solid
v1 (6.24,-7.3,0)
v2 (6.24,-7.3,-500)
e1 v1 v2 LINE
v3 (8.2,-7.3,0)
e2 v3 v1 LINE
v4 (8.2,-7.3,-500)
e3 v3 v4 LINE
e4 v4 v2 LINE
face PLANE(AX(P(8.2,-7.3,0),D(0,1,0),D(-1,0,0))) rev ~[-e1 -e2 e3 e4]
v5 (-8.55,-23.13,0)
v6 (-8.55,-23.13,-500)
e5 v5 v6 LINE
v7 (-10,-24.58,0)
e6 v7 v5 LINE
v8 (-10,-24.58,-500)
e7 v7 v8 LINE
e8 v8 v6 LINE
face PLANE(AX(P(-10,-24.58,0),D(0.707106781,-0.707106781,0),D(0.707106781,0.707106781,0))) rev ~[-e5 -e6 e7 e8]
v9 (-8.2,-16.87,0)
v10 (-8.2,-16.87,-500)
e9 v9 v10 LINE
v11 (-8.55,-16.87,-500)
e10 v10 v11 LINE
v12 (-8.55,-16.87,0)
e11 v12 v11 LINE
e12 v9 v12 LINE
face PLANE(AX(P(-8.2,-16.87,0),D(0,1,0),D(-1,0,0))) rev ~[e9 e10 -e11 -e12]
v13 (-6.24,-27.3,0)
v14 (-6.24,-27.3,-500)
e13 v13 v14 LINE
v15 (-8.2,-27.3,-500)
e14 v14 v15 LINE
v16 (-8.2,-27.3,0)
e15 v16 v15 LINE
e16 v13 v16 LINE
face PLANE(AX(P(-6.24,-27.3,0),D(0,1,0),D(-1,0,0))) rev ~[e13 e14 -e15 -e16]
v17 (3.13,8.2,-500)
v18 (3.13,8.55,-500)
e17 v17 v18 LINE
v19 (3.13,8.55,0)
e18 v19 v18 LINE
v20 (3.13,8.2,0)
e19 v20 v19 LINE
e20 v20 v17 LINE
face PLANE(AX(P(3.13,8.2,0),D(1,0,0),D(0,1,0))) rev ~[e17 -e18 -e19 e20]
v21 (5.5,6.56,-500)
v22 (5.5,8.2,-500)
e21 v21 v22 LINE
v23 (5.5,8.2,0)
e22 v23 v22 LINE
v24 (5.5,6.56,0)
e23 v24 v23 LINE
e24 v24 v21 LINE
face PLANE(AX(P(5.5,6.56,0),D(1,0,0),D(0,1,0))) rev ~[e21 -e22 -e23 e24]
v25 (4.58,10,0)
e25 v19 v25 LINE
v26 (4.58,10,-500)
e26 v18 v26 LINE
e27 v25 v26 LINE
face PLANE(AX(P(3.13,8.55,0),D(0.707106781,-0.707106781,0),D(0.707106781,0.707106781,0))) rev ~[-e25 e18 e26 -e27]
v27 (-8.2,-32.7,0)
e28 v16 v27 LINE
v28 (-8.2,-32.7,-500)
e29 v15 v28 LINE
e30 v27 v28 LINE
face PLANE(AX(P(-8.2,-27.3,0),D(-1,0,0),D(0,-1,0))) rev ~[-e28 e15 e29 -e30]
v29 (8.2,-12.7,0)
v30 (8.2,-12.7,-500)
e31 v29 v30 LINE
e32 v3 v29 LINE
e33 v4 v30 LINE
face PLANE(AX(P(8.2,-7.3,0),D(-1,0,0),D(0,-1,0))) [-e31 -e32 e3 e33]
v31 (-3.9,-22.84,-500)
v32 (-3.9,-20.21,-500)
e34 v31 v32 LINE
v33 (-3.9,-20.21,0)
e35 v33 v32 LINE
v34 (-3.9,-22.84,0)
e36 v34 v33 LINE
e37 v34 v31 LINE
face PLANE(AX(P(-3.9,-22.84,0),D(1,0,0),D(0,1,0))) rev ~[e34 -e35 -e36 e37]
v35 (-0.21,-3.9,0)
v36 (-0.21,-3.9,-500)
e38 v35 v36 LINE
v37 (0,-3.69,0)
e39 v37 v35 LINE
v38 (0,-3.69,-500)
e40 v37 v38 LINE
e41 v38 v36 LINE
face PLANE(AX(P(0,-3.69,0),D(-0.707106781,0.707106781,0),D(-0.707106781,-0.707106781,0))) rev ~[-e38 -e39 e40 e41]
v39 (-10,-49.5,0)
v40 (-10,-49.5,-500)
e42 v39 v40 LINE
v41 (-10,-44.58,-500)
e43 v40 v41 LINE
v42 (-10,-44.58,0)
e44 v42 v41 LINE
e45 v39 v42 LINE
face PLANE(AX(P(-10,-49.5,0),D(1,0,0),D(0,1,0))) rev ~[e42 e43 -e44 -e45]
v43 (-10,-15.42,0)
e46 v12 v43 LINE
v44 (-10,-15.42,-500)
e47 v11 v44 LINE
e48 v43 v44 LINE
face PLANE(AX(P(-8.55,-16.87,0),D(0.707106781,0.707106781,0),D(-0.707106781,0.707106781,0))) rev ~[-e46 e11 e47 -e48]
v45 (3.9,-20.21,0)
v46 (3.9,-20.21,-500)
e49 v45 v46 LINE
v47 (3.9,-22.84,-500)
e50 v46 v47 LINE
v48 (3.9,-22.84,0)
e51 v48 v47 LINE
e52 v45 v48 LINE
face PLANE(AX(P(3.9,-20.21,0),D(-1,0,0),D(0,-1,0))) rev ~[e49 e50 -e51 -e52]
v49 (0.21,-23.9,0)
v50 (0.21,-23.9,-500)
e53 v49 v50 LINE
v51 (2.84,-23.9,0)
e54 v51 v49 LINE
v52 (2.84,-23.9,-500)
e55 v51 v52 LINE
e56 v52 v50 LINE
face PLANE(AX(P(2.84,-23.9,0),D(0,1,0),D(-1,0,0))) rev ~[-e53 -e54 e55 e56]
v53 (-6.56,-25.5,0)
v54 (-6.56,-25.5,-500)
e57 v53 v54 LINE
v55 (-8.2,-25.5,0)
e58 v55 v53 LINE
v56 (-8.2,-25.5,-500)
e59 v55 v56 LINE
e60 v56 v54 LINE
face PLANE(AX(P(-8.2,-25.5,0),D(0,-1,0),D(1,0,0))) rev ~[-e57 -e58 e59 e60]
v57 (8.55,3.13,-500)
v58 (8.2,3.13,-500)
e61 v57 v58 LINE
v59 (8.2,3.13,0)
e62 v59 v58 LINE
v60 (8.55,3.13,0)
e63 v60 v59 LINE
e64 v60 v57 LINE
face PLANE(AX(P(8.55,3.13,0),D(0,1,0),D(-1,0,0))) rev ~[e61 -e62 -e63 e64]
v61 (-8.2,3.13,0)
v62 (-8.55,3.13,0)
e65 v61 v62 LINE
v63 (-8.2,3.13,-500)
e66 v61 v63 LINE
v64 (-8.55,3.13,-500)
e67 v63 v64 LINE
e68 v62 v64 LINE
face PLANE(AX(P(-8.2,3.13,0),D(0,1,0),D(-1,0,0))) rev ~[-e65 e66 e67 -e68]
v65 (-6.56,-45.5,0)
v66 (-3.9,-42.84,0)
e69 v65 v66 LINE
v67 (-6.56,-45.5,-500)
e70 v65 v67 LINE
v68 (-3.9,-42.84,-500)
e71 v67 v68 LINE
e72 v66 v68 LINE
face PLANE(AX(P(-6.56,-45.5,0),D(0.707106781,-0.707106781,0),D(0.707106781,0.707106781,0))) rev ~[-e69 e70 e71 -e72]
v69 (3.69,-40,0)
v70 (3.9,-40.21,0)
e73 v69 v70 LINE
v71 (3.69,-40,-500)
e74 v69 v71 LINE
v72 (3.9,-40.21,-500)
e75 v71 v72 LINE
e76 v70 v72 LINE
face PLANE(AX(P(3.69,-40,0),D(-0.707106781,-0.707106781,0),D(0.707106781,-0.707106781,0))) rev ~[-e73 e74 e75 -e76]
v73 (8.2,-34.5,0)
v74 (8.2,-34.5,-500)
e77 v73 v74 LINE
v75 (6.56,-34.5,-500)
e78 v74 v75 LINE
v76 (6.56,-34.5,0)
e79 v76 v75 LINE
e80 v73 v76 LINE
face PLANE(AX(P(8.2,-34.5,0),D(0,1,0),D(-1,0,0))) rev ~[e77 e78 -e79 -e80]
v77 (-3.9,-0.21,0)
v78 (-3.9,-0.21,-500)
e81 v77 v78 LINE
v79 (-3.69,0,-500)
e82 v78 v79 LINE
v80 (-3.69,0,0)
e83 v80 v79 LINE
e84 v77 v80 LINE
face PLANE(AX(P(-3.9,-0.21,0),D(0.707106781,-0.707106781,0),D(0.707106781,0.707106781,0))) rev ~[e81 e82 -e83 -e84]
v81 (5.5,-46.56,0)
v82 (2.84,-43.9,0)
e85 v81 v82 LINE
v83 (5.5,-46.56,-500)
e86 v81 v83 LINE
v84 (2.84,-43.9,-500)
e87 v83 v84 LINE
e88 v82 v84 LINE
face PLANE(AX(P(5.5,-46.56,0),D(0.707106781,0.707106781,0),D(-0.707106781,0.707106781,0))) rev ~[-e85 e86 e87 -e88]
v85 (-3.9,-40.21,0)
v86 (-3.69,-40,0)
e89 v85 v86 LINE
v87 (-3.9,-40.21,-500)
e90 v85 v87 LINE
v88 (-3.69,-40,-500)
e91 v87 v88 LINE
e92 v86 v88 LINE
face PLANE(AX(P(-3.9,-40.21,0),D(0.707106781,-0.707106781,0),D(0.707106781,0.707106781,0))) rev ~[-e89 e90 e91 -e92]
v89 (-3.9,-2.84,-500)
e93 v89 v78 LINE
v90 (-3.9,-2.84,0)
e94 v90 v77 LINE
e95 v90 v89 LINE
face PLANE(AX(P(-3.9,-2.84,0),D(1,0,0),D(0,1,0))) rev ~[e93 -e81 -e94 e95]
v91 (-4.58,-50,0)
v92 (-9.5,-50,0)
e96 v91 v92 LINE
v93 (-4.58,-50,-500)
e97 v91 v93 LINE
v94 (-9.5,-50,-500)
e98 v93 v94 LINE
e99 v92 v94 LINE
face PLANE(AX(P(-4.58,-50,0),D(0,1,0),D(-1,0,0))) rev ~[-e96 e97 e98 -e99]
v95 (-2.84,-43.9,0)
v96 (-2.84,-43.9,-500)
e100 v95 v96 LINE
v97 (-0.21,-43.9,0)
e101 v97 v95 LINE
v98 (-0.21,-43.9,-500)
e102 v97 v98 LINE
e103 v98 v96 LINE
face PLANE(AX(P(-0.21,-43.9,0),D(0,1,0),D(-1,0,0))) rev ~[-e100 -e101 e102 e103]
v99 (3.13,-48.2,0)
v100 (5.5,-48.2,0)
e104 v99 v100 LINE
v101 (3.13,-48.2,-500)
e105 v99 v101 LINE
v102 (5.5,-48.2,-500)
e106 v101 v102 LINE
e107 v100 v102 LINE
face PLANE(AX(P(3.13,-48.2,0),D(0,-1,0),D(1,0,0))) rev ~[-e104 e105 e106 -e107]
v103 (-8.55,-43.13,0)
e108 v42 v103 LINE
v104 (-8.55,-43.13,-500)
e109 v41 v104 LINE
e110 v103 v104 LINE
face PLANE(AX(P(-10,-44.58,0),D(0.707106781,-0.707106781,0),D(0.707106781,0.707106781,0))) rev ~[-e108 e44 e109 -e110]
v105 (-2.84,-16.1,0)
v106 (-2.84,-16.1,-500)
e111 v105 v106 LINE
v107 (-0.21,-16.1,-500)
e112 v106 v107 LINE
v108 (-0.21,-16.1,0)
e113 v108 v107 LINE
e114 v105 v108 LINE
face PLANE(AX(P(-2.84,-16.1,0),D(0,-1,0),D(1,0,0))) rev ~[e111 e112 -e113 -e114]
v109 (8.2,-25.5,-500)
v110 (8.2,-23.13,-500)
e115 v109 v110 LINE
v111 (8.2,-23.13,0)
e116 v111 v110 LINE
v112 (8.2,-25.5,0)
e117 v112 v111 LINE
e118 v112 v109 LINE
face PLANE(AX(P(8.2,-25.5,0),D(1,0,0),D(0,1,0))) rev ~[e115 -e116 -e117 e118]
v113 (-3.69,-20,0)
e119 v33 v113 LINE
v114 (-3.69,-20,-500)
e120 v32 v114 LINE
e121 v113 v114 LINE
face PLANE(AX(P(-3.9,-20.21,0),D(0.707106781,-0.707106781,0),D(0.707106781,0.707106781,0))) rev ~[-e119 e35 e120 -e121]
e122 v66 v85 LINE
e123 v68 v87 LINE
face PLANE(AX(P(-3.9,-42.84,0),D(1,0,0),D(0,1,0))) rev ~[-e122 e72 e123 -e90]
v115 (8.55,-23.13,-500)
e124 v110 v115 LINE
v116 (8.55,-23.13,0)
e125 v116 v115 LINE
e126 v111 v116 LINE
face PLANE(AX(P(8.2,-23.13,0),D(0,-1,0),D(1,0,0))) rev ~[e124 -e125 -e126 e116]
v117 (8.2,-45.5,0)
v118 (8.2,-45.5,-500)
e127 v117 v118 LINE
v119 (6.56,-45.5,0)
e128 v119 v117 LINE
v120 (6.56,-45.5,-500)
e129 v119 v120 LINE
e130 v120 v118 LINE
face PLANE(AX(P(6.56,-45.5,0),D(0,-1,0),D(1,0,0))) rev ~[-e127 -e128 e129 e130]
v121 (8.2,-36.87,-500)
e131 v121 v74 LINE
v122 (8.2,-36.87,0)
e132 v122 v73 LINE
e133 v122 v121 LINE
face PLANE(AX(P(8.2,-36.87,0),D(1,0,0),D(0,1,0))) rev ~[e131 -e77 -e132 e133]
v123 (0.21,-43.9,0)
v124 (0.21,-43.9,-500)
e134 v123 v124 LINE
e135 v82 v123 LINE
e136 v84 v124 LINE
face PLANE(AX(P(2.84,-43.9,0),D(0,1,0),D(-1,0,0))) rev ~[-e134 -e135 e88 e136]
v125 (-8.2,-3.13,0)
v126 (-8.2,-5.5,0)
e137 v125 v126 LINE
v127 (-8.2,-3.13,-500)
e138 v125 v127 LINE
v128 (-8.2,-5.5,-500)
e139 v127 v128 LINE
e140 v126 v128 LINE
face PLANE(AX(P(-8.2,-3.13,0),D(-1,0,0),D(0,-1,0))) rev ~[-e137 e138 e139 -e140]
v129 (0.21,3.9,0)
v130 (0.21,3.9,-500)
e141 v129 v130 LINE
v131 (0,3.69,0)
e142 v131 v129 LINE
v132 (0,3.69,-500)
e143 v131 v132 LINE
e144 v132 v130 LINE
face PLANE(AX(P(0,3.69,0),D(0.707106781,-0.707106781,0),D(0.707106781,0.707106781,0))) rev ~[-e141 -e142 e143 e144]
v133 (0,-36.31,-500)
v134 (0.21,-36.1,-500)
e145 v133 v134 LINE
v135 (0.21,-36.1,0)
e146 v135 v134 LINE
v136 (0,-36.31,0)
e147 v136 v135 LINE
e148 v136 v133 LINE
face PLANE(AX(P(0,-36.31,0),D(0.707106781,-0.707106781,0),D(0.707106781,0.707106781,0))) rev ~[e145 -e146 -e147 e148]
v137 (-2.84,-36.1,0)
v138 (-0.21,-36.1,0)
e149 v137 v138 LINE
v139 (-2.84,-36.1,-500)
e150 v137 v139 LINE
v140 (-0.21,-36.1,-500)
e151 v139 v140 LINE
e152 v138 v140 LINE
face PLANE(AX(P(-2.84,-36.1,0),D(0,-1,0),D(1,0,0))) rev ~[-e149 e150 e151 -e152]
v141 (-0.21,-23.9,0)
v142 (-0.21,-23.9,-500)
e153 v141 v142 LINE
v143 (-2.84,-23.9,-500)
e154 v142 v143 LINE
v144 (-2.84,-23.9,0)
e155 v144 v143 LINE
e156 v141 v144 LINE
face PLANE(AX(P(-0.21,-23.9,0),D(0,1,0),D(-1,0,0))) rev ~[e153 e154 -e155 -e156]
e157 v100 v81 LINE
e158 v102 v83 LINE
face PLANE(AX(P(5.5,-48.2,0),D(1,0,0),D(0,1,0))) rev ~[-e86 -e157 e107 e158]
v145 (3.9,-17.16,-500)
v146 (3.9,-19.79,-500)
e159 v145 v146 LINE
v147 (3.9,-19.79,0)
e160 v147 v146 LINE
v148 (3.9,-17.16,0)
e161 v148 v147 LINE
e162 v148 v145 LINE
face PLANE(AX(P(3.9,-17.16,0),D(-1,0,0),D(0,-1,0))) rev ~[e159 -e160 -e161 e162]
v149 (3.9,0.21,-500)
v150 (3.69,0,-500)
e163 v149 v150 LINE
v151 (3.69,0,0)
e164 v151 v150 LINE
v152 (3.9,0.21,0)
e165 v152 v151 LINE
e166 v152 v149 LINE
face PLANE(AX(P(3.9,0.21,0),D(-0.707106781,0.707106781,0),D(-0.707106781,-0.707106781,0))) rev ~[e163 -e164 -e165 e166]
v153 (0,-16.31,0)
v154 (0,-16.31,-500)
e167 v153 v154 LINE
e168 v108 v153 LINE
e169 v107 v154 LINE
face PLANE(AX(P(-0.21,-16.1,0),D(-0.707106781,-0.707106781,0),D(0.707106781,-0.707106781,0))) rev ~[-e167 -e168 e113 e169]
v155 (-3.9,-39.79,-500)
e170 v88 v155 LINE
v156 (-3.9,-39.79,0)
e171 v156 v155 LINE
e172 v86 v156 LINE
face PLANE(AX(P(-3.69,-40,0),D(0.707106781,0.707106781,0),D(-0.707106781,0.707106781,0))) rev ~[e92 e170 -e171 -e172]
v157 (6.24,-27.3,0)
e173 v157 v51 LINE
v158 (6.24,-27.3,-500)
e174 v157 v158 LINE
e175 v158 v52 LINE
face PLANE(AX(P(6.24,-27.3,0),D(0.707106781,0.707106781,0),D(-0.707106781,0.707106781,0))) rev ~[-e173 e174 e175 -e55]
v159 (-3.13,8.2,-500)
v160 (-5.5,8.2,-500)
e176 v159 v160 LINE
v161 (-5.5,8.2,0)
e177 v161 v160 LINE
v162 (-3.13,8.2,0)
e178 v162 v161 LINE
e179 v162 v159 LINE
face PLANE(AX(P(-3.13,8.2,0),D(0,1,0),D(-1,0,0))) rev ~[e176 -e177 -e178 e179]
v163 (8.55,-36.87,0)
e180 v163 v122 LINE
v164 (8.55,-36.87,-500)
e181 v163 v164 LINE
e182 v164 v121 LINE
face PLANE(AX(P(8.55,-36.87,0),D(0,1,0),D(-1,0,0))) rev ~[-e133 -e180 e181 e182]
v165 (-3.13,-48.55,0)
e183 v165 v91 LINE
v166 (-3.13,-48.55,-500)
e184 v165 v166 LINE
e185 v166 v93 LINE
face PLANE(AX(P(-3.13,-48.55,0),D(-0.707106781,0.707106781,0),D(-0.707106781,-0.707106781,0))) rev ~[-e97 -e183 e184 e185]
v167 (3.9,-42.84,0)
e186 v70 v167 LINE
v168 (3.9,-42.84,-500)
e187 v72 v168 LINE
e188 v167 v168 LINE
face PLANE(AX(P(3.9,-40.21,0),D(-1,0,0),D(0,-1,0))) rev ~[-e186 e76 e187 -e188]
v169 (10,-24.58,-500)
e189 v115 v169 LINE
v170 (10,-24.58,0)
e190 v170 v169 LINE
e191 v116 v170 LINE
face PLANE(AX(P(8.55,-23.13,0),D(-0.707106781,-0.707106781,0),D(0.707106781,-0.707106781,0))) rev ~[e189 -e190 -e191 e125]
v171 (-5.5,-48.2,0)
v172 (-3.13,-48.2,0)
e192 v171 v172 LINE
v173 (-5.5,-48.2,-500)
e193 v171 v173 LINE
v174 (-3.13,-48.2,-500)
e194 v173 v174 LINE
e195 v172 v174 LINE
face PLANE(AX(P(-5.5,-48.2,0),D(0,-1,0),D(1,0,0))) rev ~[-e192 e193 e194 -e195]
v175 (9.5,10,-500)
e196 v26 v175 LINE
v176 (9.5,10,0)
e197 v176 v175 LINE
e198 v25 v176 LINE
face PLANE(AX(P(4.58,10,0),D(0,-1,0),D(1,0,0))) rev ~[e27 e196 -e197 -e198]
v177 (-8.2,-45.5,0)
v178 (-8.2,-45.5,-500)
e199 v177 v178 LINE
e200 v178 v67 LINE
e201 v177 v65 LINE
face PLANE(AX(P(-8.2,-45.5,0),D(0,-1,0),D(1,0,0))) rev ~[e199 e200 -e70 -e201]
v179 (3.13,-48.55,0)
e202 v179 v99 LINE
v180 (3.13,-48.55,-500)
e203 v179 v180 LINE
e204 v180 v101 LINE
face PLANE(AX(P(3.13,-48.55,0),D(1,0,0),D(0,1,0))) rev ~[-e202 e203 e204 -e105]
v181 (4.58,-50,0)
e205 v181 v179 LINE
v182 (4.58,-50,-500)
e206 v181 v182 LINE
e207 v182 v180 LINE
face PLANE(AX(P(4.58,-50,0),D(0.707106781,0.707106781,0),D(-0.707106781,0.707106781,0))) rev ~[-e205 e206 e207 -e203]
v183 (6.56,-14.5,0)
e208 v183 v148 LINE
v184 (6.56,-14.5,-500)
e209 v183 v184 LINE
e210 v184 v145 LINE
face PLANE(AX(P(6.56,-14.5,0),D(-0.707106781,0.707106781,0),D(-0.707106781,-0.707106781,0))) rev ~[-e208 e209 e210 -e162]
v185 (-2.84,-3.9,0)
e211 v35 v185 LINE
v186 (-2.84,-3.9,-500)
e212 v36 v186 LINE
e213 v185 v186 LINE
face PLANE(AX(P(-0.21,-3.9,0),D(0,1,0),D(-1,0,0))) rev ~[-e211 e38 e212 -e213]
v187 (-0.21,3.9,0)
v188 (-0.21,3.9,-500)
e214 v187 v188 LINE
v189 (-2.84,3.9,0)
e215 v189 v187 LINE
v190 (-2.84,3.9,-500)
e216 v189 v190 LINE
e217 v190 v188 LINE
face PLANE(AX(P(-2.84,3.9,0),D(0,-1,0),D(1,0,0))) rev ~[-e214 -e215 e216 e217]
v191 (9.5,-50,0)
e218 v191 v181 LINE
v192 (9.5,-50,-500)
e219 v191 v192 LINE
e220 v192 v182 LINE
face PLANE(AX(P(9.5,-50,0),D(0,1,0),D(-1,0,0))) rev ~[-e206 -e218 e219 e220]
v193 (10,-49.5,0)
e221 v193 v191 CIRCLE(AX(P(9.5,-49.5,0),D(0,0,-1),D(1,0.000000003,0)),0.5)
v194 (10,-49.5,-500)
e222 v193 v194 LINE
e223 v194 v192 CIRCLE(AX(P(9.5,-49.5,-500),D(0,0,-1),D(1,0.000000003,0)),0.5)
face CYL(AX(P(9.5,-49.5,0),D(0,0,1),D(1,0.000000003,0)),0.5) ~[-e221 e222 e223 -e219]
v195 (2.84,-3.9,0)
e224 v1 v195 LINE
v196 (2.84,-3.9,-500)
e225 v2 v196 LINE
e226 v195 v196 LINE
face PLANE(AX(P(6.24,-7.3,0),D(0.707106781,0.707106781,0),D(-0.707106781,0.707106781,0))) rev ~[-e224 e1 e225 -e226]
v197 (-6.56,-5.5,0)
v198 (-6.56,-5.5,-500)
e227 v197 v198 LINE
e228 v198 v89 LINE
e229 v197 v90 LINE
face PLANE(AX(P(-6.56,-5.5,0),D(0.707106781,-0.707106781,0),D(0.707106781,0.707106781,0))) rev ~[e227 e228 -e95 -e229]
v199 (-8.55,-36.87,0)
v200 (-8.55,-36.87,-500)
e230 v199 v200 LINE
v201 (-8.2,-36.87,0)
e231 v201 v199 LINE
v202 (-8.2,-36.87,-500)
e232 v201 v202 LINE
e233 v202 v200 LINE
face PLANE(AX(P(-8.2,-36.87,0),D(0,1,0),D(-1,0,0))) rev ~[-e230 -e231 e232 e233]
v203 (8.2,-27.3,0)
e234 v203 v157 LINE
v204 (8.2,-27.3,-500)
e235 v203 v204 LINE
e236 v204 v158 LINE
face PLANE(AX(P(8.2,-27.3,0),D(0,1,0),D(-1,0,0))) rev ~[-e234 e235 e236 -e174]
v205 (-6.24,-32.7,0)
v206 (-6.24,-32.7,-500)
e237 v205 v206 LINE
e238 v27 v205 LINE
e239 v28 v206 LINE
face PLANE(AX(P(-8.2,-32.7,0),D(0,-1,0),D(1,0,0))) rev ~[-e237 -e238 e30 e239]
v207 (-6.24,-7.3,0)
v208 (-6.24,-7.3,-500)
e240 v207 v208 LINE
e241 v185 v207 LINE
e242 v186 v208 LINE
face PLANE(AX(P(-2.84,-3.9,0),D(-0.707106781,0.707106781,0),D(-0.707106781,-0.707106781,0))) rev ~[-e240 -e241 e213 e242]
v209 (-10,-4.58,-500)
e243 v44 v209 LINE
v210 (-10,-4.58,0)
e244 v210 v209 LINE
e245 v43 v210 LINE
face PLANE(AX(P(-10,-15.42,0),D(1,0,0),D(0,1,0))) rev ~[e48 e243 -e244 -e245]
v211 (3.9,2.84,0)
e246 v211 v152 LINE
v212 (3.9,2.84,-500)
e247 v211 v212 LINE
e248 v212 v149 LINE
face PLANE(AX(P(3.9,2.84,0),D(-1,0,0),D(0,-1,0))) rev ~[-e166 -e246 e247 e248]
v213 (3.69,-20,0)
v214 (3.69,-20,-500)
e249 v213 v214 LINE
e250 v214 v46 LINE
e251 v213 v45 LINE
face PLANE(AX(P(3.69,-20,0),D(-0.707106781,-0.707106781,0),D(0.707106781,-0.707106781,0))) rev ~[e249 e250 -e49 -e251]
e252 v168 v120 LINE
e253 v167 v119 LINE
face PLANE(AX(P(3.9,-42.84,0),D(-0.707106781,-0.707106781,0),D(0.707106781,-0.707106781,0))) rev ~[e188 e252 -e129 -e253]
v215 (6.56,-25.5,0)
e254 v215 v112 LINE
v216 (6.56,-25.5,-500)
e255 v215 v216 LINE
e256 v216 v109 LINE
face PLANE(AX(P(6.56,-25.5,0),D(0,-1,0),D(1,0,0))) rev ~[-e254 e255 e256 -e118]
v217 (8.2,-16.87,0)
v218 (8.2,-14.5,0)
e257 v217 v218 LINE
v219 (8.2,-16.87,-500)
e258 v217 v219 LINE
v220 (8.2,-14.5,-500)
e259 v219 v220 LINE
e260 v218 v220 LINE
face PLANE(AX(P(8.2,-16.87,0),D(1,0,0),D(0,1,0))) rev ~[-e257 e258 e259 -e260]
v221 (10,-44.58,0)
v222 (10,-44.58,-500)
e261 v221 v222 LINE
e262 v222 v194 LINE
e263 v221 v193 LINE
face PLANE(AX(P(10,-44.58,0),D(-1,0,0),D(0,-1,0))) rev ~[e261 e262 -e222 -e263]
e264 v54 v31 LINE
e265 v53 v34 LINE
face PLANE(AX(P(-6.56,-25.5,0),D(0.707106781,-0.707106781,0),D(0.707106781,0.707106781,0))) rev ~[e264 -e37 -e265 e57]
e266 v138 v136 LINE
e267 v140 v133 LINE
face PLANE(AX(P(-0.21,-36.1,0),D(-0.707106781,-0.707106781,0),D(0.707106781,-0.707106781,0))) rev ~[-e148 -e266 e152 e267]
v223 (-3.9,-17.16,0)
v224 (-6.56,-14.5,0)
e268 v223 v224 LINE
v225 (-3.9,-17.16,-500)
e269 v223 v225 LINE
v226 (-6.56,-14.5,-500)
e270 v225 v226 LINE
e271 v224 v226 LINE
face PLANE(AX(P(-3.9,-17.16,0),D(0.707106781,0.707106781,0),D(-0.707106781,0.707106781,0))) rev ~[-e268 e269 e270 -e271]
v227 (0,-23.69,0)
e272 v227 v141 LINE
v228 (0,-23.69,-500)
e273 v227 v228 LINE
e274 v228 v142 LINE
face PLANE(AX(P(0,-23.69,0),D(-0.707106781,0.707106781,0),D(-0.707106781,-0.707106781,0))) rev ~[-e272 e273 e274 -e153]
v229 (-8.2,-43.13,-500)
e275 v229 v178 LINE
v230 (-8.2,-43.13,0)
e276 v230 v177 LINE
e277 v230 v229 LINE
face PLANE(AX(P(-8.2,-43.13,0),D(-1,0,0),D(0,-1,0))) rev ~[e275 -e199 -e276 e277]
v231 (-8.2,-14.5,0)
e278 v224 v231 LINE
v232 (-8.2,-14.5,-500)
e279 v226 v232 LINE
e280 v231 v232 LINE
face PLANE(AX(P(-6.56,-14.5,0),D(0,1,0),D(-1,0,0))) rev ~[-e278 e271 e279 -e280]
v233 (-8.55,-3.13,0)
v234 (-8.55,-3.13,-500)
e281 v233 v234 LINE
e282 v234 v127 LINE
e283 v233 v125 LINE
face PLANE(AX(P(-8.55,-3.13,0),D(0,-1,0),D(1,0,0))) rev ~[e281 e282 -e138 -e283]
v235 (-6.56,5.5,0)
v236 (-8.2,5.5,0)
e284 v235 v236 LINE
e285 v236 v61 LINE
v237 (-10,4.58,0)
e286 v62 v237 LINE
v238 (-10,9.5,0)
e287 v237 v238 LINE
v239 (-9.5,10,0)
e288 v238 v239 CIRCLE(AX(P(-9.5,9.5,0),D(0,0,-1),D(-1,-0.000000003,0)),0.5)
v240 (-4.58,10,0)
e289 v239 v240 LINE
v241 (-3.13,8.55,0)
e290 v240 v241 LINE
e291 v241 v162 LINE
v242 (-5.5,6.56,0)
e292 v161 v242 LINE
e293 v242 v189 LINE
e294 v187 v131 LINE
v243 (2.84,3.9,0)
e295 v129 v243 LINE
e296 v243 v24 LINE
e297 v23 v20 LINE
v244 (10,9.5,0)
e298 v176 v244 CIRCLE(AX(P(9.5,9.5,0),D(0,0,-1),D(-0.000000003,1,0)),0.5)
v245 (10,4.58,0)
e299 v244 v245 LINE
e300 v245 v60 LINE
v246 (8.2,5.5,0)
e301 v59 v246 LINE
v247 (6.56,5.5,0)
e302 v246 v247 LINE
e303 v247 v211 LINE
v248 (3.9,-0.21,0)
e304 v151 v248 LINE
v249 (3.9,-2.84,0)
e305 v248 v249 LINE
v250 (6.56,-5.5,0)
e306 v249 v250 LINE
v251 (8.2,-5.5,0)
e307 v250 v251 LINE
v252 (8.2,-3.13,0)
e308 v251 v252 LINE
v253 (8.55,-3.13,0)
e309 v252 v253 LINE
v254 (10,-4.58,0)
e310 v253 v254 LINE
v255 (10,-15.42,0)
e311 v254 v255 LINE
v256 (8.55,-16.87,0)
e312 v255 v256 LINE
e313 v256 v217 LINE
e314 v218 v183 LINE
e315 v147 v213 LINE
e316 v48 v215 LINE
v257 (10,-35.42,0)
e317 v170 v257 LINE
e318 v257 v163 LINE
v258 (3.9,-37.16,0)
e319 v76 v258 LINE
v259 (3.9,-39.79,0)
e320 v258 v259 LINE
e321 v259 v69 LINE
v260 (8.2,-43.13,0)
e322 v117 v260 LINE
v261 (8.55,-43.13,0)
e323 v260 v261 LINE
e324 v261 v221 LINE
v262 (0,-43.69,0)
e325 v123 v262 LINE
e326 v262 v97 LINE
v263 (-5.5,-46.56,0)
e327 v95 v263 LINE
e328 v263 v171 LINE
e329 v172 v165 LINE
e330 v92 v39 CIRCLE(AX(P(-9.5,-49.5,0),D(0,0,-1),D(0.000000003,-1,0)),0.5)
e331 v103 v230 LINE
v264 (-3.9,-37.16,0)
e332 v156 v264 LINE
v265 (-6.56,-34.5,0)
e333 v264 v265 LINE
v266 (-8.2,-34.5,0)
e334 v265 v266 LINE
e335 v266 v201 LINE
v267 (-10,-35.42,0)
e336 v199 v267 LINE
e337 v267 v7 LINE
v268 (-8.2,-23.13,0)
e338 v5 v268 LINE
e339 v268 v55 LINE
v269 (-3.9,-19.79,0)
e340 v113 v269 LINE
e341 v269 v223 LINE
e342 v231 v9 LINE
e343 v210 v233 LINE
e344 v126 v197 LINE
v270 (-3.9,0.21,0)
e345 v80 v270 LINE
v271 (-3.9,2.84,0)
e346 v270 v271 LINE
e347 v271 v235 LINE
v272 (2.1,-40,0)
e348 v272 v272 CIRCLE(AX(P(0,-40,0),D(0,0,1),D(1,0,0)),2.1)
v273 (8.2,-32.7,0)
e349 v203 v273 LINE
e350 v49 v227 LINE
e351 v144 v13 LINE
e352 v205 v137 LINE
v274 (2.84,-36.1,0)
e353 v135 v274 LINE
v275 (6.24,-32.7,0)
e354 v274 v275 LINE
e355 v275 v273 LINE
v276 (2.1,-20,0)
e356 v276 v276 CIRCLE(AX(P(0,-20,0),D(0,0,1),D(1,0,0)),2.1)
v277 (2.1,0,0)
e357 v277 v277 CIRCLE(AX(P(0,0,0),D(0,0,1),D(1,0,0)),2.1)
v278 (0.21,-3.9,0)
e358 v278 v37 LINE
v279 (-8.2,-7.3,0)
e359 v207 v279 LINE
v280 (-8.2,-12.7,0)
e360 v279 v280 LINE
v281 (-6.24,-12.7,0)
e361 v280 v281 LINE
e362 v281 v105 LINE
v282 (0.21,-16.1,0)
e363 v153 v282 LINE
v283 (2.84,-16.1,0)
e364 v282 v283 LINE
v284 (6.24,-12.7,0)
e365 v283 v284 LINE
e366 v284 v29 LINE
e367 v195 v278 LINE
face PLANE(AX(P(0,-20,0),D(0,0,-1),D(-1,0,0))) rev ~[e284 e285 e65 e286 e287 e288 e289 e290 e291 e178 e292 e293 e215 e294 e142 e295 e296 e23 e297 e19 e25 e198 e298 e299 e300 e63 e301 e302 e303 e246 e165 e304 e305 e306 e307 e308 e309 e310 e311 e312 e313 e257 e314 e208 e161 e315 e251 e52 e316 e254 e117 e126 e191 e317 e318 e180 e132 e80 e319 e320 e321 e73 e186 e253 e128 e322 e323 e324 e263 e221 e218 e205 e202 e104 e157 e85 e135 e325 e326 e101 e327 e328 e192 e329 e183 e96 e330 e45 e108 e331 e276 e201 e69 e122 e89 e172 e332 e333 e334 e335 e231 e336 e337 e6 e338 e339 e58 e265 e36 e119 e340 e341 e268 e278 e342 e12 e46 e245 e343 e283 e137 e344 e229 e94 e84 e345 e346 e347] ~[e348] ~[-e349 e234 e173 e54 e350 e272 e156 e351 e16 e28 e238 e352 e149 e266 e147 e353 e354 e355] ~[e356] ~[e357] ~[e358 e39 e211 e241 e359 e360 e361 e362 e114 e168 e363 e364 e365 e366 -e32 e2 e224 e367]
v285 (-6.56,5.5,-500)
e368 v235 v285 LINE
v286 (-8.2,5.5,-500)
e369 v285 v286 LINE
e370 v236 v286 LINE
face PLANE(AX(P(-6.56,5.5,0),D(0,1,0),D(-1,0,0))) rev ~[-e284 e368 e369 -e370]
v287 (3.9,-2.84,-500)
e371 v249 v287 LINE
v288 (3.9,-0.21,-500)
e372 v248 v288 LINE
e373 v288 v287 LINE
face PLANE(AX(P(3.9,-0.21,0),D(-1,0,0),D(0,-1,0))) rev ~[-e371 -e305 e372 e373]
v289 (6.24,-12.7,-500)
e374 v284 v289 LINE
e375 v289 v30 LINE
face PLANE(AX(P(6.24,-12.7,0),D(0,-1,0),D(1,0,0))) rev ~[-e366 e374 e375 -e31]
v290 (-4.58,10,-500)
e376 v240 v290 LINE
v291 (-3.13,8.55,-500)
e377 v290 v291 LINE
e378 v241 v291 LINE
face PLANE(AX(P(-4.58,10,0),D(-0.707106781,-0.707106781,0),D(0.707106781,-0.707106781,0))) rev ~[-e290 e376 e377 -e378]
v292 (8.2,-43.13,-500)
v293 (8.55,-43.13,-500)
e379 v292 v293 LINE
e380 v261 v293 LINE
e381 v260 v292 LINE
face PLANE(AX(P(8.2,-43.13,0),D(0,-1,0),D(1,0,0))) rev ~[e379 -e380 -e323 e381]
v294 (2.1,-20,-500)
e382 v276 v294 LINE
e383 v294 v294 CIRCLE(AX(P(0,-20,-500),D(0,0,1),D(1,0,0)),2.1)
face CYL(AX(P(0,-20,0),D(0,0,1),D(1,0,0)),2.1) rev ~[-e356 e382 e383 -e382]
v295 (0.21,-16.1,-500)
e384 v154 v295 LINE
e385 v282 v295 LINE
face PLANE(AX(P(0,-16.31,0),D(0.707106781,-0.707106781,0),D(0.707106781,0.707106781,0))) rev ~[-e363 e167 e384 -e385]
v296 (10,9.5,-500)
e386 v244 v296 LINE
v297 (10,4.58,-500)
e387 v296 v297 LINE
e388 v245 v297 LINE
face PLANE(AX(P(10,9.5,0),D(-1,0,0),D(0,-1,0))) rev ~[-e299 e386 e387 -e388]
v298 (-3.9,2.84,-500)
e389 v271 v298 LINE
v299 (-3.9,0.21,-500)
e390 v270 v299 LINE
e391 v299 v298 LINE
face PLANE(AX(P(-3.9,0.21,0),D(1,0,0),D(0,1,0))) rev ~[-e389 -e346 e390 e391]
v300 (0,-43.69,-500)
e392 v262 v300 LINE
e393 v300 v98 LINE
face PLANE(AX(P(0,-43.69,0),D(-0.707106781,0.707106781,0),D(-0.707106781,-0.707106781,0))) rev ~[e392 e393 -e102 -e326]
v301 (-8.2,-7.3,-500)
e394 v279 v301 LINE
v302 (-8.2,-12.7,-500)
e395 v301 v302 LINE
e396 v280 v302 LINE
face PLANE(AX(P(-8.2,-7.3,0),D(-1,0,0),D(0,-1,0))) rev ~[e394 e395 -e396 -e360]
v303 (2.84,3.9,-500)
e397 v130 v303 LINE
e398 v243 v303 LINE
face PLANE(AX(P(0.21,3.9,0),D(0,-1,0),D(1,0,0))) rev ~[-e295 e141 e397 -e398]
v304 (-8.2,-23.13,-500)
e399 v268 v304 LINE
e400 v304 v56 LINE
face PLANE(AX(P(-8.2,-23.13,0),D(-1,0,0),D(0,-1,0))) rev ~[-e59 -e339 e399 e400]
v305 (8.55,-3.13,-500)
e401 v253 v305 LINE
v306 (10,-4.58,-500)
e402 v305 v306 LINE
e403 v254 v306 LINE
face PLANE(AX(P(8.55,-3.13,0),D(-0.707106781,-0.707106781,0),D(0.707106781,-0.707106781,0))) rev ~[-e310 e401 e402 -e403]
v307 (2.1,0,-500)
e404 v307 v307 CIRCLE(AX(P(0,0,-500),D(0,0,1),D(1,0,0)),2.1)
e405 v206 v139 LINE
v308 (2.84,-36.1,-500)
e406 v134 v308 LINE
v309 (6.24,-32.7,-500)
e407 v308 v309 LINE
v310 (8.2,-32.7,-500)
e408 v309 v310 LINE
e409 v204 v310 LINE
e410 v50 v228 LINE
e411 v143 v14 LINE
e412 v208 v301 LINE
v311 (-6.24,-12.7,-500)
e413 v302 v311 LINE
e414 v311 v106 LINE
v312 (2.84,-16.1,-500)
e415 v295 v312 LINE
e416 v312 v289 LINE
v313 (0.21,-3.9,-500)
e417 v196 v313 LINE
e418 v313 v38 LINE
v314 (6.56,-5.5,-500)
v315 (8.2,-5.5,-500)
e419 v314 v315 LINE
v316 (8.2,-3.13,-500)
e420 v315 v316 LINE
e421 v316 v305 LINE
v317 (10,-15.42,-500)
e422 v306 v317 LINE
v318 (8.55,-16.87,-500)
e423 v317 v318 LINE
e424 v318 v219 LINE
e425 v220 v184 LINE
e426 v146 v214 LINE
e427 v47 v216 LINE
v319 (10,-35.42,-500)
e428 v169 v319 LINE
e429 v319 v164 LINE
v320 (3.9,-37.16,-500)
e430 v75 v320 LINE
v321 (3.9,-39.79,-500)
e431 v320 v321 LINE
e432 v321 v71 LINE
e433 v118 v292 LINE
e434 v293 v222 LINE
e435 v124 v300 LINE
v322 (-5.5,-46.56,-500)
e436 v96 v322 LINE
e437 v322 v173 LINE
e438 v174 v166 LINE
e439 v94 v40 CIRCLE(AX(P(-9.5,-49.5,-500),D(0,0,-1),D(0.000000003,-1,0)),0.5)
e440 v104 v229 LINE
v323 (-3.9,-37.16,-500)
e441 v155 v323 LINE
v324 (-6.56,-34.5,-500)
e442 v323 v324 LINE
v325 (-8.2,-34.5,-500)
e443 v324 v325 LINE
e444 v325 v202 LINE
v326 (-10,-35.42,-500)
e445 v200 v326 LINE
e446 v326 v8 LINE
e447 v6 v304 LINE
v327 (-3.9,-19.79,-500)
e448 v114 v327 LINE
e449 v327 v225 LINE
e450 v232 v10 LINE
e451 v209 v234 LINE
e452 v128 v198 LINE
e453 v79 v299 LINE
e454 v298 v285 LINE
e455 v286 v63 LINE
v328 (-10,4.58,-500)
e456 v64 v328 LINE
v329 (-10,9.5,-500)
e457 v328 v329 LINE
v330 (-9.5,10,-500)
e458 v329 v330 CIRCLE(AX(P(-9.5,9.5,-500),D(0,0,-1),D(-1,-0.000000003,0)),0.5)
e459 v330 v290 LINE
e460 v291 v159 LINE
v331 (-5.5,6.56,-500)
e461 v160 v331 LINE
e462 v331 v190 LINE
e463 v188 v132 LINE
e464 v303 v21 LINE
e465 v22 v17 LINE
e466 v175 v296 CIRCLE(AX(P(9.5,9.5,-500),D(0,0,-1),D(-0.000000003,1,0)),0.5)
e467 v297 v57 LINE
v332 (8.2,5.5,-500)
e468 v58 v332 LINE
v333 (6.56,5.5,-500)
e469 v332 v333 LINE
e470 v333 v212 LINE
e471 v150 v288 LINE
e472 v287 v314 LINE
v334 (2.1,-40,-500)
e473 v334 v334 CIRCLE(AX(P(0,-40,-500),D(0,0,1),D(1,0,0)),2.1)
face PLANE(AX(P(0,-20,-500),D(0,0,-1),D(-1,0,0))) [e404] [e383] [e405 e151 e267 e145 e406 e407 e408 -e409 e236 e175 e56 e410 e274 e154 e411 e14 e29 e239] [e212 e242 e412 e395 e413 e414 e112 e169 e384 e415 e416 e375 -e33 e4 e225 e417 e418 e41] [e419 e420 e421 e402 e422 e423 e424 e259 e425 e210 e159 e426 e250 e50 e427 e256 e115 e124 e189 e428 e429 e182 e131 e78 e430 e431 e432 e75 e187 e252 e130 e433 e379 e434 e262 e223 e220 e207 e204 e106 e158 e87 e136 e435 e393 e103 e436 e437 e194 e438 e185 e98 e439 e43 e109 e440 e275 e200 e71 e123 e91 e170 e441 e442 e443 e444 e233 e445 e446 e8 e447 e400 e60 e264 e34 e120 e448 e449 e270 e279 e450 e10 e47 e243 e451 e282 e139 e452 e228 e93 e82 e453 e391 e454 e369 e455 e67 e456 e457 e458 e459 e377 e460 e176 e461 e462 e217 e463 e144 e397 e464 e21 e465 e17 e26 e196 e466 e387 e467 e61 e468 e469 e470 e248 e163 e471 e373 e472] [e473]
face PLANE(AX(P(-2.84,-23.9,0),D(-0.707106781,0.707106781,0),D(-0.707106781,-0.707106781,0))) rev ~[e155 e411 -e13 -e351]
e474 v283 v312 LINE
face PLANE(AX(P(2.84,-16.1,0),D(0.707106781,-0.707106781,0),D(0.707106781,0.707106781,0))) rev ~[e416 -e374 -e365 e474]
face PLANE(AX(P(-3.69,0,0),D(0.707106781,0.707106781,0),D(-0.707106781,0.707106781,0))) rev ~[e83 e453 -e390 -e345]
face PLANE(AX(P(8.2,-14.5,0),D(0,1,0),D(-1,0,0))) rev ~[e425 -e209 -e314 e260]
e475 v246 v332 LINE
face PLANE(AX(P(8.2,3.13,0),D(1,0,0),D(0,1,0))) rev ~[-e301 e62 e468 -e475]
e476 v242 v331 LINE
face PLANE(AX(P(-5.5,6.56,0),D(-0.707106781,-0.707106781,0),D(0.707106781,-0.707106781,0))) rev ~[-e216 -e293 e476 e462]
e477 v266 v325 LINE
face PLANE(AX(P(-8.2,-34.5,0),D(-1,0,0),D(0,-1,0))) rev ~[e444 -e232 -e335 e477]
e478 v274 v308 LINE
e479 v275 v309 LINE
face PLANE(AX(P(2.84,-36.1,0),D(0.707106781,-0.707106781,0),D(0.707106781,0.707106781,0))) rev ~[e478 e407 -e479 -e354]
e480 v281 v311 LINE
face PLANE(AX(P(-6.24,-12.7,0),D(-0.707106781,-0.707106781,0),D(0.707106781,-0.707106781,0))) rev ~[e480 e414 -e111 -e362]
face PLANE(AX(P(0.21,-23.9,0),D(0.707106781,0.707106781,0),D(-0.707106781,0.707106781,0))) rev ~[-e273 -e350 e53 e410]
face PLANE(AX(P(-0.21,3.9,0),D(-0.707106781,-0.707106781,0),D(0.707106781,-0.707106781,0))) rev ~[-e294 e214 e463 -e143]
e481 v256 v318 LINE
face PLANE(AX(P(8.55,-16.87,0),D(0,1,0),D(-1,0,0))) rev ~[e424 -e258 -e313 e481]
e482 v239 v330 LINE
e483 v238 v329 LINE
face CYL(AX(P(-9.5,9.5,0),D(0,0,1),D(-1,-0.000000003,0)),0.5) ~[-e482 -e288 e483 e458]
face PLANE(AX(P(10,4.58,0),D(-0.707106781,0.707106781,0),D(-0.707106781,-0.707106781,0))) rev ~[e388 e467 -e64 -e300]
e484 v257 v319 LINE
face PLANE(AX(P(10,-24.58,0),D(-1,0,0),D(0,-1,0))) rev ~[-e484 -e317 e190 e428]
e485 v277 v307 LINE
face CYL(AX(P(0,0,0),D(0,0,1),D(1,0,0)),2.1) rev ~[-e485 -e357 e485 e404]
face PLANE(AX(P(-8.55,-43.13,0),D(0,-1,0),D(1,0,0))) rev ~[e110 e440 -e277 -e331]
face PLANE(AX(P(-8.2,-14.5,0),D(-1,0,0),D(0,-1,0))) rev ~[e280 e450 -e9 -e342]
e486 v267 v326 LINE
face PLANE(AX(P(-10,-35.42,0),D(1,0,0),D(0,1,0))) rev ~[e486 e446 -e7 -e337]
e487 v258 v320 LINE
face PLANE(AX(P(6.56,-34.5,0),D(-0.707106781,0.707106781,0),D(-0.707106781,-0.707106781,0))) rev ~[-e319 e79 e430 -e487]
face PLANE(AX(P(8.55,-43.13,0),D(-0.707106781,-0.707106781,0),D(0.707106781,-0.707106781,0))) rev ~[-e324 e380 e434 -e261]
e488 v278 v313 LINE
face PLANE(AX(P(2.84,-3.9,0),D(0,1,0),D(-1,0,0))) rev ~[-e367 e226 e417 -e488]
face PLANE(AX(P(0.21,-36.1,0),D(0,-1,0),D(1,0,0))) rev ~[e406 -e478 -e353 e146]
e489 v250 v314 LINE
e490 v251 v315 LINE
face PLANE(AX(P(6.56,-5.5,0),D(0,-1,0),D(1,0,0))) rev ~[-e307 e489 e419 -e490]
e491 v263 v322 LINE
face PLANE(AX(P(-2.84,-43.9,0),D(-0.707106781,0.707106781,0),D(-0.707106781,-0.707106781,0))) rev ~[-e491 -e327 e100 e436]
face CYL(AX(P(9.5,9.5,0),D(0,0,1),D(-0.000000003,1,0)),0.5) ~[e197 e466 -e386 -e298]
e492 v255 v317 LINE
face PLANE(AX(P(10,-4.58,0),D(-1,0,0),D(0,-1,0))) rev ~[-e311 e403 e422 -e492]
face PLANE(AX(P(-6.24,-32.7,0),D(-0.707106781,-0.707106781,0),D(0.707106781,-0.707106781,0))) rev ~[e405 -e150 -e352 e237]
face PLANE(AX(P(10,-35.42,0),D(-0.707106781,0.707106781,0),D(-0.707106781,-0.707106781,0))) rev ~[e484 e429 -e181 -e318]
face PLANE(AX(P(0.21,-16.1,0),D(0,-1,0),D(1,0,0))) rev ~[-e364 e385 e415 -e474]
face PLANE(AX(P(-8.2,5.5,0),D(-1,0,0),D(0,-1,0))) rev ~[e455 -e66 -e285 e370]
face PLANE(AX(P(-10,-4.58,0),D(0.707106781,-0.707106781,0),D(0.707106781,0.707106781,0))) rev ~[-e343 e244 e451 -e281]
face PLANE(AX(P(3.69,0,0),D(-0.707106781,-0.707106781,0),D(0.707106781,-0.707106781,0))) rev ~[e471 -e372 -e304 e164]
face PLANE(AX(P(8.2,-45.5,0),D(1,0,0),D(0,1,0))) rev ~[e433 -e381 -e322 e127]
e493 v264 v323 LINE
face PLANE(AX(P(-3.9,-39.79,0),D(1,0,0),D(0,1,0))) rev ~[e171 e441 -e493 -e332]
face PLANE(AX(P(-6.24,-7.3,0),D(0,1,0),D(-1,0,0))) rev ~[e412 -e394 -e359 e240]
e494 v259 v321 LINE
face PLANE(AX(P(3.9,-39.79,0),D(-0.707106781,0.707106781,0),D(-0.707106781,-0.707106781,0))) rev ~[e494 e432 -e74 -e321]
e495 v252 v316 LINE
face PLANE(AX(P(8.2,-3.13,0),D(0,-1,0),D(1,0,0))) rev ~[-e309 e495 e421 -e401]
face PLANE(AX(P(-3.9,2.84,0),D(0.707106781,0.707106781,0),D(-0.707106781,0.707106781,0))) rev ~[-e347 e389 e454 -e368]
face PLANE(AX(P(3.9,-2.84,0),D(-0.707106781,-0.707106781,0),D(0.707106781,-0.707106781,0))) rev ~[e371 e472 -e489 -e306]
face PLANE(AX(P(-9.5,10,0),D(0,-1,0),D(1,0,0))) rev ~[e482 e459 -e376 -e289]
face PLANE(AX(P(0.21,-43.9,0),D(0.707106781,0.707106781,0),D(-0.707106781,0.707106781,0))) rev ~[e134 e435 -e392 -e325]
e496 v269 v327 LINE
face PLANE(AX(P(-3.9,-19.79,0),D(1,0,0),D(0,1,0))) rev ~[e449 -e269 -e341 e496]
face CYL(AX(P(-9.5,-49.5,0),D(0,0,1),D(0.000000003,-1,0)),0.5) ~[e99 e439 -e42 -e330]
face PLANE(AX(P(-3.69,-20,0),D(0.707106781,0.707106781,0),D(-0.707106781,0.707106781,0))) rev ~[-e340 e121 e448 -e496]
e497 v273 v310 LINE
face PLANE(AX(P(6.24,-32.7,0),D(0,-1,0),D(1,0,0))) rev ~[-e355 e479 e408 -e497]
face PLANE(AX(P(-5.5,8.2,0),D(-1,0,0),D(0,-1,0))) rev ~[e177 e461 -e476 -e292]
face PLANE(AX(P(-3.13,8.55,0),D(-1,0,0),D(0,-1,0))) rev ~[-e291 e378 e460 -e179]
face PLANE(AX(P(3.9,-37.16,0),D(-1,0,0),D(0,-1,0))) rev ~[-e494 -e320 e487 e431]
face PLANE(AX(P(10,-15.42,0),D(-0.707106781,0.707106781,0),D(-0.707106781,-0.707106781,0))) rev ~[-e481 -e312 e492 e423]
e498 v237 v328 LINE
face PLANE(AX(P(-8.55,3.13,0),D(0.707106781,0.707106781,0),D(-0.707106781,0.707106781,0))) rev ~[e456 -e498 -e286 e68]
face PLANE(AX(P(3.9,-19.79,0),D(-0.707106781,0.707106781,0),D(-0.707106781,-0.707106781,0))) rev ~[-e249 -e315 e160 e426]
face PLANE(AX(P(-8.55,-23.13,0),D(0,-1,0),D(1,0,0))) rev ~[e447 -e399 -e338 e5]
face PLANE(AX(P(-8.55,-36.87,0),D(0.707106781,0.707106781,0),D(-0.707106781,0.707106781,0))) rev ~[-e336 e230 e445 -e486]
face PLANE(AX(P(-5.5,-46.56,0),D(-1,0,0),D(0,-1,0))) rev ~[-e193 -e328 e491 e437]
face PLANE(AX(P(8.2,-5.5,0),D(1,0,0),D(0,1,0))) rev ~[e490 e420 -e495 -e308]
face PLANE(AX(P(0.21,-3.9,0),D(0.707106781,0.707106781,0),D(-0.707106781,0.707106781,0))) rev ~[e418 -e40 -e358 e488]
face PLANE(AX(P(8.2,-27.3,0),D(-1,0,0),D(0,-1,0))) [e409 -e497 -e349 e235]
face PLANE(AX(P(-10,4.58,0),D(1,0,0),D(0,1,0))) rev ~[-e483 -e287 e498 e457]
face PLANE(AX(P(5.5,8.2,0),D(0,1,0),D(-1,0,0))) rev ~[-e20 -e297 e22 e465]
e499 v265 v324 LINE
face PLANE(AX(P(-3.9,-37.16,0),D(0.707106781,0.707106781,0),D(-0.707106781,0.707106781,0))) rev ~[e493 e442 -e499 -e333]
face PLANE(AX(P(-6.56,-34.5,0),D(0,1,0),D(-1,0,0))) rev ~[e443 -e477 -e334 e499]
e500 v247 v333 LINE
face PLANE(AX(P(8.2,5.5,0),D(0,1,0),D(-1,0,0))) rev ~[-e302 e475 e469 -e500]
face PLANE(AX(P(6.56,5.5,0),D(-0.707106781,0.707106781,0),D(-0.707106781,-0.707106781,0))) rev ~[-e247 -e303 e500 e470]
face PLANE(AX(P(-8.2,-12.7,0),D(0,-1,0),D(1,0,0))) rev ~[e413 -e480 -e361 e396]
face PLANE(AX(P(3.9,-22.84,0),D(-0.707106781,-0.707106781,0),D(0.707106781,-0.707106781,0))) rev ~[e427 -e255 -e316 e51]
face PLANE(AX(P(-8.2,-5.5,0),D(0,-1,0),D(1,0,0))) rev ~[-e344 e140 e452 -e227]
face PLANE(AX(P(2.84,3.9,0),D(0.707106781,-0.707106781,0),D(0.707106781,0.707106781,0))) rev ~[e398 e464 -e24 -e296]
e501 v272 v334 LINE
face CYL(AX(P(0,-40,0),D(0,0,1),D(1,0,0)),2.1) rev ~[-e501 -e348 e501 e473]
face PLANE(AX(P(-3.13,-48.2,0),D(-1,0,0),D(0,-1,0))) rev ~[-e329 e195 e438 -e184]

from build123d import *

# Parameters (mm, degrees)
SKETCH2_R           = 2.1
BOSS_EXTRUDE2_DEPTH = 500


with BuildPart() as part:
    # Sketch2 → Boss-Extrude2 (new body)
    with BuildSketch(Plane.XY):
        with BuildLine():
            Line((-9.5, 10), (-4.58, 10))
            Line((-4.58, 10), (-3.13, 8.55))
            Line((-3.13, 8.55), (-3.13, 8.2))
            Line((-3.13, 8.2), (-5.5, 8.2))
            Line((-5.5, 8.2), (-5.5, 6.56))
            Line((-5.5, 6.56), (-2.84, 3.9))
            Line((-2.84, 3.9), (-0.21, 3.9))
            Line((-0.21, 3.9), (0, 3.69))
            Line((0, 3.69), (0.21, 3.9))
            Line((0.21, 3.9), (2.84, 3.9))
            Line((2.84, 3.9), (5.5, 6.56))
            Line((5.5, 6.56), (5.5, 8.2))
            Line((5.5, 8.2), (3.13, 8.2))
            Line((3.13, 8.2), (3.13, 8.55))
            Line((3.13, 8.55), (4.58, 10))
            Line((4.58, 10), (9.5, 10))
            ThreePointArc((9.5, 10), (9.853553391, 9.853553391), (10, 9.5))
            Line((10, 9.5), (10, 4.58))
            Line((10, 4.58), (8.55, 3.13))
            Line((8.55, 3.13), (8.2, 3.13))
            Line((8.2, 3.13), (8.2, 5.5))
            Line((8.2, 5.5), (6.56, 5.5))
            Line((6.56, 5.5), (3.9, 2.84))
            Line((3.9, 2.84), (3.9, 0.21))
            Line((3.9, 0.21), (3.69, 0))
            Line((3.69, 0), (3.9, -0.21))
            Line((3.9, -0.21), (3.9, -2.84))
            Line((3.9, -2.84), (6.56, -5.5))
            Line((6.56, -5.5), (8.2, -5.5))
            Line((8.2, -5.5), (8.2, -3.13))
            Line((8.2, -3.13), (8.55, -3.13))
            Line((8.55, -3.13), (10, -4.58))
            Line((10, -4.58), (10, -10))
            Line((10, -10), (10, -15.42))
            Line((10, -15.42), (8.55, -16.87))
            Line((8.55, -16.87), (8.2, -16.87))
            Line((8.2, -16.87), (8.2, -14.5))
            Line((8.2, -14.5), (6.56, -14.5))
            Line((6.56, -14.5), (3.9, -17.16))
            Line((3.9, -17.16), (3.9, -19.79))
            Line((3.9, -19.79), (3.69, -20))
            Line((3.69, -20), (3.9, -20.21))
            Line((3.9, -20.21), (3.9, -22.84))
            Line((3.9, -22.84), (6.56, -25.5))
            Line((6.56, -25.5), (8.2, -25.5))
            Line((8.2, -25.5), (8.2, -23.13))
            Line((8.2, -23.13), (8.55, -23.13))
            Line((8.55, -23.13), (10, -24.58))
            Line((10, -24.58), (10, -30))
            Line((10, -30), (10, -35.42))
            Line((10, -35.42), (8.55, -36.87))
            Line((8.55, -36.87), (8.2, -36.87))
            Line((8.2, -36.87), (8.2, -34.5))
            Line((8.2, -34.5), (6.56, -34.5))
            Line((6.56, -34.5), (3.9, -37.16))
            Line((3.9, -37.16), (3.9, -39.79))
            Line((3.9, -39.79), (3.69, -40))
            Line((3.69, -40), (3.9, -40.21))
            Line((3.9, -40.21), (3.9, -42.84))
            Line((3.9, -42.84), (6.56, -45.5))
            Line((6.56, -45.5), (8.2, -45.5))
            Line((8.2, -45.5), (8.2, -43.13))
            Line((8.2, -43.13), (8.55, -43.13))
            Line((8.55, -43.13), (10, -44.58))
            Line((10, -44.58), (10, -49.5))
            ThreePointArc((10, -49.5), (9.853553391, -49.853553391), (9.5, -50))
            Line((9.5, -50), (4.58, -50))
            Line((4.58, -50), (3.13, -48.55))
            Line((3.13, -48.55), (3.13, -48.2))
            Line((3.13, -48.2), (5.5, -48.2))
            Line((5.5, -48.2), (5.5, -46.56))
            Line((5.5, -46.56), (2.84, -43.9))
            Line((2.84, -43.9), (0.21, -43.9))
            Line((0.21, -43.9), (0, -43.69))
            Line((0, -43.69), (-0.21, -43.9))
            Line((-0.21, -43.9), (-2.84, -43.9))
            Line((-2.84, -43.9), (-5.5, -46.56))
            Line((-5.5, -46.56), (-5.5, -48.2))
            Line((-5.5, -48.2), (-3.13, -48.2))
            Line((-3.13, -48.2), (-3.13, -48.55))
            Line((-3.13, -48.55), (-4.58, -50))
            Line((-4.58, -50), (-9.5, -50))
            ThreePointArc((-9.5, -50), (-9.853553391, -49.853553391), (-10, -49.5))
            Line((-10, -49.5), (-10, -44.58))
            Line((-10, -44.58), (-8.55, -43.13))
            Line((-8.55, -43.13), (-8.2, -43.13))
            Line((-8.2, -43.13), (-8.2, -45.5))
            Line((-8.2, -45.5), (-6.56, -45.5))
            Line((-6.56, -45.5), (-3.9, -42.84))
            Line((-3.9, -42.84), (-3.9, -40.21))
            Line((-3.9, -40.21), (-3.69, -40))
            Line((-3.69, -40), (-3.9, -39.79))
            Line((-3.9, -39.79), (-3.9, -37.16))
            Line((-3.9, -37.16), (-6.56, -34.5))
            Line((-6.56, -34.5), (-8.2, -34.5))
            Line((-8.2, -34.5), (-8.2, -36.87))
            Line((-8.2, -36.87), (-8.55, -36.87))
            Line((-8.55, -36.87), (-10, -35.42))
            Line((-10, -35.42), (-10, -30))
            Line((-10, -30), (-10, -24.58))
            Line((-10, -24.58), (-8.55, -23.13))
            Line((-8.55, -23.13), (-8.2, -23.13))
            Line((-8.2, -23.13), (-8.2, -25.5))
            Line((-8.2, -25.5), (-6.56, -25.5))
            Line((-6.56, -25.5), (-3.9, -22.84))
            Line((-3.9, -22.84), (-3.9, -20.21))
            Line((-3.9, -20.21), (-3.69, -20))
            Line((-3.69, -20), (-3.9, -19.79))
            Line((-3.9, -19.79), (-3.9, -17.16))
            Line((-3.9, -17.16), (-6.56, -14.5))
            Line((-6.56, -14.5), (-8.2, -14.5))
            Line((-8.2, -14.5), (-8.2, -16.87))
            Line((-8.2, -16.87), (-8.55, -16.87))
            Line((-8.55, -16.87), (-10, -15.42))
            Line((-10, -15.42), (-10, -10))
            Line((-10, -10), (-10, -4.58))
            Line((-10, -4.58), (-8.55, -3.13))
            Line((-8.55, -3.13), (-8.2, -3.13))
            Line((-8.2, -3.13), (-8.2, -5.5))
            Line((-8.2, -5.5), (-6.56, -5.5))
            Line((-6.56, -5.5), (-3.9, -2.84))
            Line((-3.9, -2.84), (-3.9, -0.21))
            Line((-3.9, -0.21), (-3.69, 0))
            Line((-3.69, 0), (-3.9, 0.21))
            Line((-3.9, 0.21), (-3.9, 2.84))
            Line((-3.9, 2.84), (-6.56, 5.5))
            Line((-6.56, 5.5), (-8.2, 5.5))
            Line((-8.2, 5.5), (-8.2, 3.13))
            Line((-8.2, 3.13), (-8.55, 3.13))
            Line((-8.55, 3.13), (-10, 4.58))
            Line((-10, 4.58), (-10, 9.5))
            ThreePointArc((-10, 9.5), (-9.853553391, 9.853553391), (-9.5, 10))
        make_face()
        with Locations((0, -20)):
            Circle(SKETCH2_R, mode=Mode.SUBTRACT)
        Circle(SKETCH2_R, mode=Mode.SUBTRACT)
        with Locations((0, -40)):
            Circle(SKETCH2_R, mode=Mode.SUBTRACT)
        Polygon((0.21, -3.9), (0, -3.69), (-0.21, -3.9), (-2.84, -3.9), (-6.24, -7.3), (-8.2, -7.3), (-8.2, -12.7), (-6.24, -12.7), (-2.84, -16.1), (-0.21, -16.1), (0, -16.31), (0.21, -16.1), (2.84, -16.1), (6.24, -12.7), (8.2, -12.7), (8.2, -10), (8.2, -7.3), (6.24, -7.3), (2.84, -3.9), align=None, mode=Mode.SUBTRACT)
        Polygon((-0.21, -36.1), (0, -36.31), (0.21, -36.1), (2.84, -36.1), (6.24, -32.7), (8.2, -32.7), (8.2, -30), (8.2, -27.3), (6.24, -27.3), (2.84, -23.9), (0.21, -23.9), (0, -23.69), (-0.21, -23.9), (-2.84, -23.9), (-6.24, -27.3), (-8.2, -27.3), (-8.2, -32.7), (-6.24, -32.7), (-2.84, -36.1), align=None, mode=Mode.SUBTRACT)
    extrude(amount=-BOSS_EXTRUDE2_DEPTH)


solid = part.part
